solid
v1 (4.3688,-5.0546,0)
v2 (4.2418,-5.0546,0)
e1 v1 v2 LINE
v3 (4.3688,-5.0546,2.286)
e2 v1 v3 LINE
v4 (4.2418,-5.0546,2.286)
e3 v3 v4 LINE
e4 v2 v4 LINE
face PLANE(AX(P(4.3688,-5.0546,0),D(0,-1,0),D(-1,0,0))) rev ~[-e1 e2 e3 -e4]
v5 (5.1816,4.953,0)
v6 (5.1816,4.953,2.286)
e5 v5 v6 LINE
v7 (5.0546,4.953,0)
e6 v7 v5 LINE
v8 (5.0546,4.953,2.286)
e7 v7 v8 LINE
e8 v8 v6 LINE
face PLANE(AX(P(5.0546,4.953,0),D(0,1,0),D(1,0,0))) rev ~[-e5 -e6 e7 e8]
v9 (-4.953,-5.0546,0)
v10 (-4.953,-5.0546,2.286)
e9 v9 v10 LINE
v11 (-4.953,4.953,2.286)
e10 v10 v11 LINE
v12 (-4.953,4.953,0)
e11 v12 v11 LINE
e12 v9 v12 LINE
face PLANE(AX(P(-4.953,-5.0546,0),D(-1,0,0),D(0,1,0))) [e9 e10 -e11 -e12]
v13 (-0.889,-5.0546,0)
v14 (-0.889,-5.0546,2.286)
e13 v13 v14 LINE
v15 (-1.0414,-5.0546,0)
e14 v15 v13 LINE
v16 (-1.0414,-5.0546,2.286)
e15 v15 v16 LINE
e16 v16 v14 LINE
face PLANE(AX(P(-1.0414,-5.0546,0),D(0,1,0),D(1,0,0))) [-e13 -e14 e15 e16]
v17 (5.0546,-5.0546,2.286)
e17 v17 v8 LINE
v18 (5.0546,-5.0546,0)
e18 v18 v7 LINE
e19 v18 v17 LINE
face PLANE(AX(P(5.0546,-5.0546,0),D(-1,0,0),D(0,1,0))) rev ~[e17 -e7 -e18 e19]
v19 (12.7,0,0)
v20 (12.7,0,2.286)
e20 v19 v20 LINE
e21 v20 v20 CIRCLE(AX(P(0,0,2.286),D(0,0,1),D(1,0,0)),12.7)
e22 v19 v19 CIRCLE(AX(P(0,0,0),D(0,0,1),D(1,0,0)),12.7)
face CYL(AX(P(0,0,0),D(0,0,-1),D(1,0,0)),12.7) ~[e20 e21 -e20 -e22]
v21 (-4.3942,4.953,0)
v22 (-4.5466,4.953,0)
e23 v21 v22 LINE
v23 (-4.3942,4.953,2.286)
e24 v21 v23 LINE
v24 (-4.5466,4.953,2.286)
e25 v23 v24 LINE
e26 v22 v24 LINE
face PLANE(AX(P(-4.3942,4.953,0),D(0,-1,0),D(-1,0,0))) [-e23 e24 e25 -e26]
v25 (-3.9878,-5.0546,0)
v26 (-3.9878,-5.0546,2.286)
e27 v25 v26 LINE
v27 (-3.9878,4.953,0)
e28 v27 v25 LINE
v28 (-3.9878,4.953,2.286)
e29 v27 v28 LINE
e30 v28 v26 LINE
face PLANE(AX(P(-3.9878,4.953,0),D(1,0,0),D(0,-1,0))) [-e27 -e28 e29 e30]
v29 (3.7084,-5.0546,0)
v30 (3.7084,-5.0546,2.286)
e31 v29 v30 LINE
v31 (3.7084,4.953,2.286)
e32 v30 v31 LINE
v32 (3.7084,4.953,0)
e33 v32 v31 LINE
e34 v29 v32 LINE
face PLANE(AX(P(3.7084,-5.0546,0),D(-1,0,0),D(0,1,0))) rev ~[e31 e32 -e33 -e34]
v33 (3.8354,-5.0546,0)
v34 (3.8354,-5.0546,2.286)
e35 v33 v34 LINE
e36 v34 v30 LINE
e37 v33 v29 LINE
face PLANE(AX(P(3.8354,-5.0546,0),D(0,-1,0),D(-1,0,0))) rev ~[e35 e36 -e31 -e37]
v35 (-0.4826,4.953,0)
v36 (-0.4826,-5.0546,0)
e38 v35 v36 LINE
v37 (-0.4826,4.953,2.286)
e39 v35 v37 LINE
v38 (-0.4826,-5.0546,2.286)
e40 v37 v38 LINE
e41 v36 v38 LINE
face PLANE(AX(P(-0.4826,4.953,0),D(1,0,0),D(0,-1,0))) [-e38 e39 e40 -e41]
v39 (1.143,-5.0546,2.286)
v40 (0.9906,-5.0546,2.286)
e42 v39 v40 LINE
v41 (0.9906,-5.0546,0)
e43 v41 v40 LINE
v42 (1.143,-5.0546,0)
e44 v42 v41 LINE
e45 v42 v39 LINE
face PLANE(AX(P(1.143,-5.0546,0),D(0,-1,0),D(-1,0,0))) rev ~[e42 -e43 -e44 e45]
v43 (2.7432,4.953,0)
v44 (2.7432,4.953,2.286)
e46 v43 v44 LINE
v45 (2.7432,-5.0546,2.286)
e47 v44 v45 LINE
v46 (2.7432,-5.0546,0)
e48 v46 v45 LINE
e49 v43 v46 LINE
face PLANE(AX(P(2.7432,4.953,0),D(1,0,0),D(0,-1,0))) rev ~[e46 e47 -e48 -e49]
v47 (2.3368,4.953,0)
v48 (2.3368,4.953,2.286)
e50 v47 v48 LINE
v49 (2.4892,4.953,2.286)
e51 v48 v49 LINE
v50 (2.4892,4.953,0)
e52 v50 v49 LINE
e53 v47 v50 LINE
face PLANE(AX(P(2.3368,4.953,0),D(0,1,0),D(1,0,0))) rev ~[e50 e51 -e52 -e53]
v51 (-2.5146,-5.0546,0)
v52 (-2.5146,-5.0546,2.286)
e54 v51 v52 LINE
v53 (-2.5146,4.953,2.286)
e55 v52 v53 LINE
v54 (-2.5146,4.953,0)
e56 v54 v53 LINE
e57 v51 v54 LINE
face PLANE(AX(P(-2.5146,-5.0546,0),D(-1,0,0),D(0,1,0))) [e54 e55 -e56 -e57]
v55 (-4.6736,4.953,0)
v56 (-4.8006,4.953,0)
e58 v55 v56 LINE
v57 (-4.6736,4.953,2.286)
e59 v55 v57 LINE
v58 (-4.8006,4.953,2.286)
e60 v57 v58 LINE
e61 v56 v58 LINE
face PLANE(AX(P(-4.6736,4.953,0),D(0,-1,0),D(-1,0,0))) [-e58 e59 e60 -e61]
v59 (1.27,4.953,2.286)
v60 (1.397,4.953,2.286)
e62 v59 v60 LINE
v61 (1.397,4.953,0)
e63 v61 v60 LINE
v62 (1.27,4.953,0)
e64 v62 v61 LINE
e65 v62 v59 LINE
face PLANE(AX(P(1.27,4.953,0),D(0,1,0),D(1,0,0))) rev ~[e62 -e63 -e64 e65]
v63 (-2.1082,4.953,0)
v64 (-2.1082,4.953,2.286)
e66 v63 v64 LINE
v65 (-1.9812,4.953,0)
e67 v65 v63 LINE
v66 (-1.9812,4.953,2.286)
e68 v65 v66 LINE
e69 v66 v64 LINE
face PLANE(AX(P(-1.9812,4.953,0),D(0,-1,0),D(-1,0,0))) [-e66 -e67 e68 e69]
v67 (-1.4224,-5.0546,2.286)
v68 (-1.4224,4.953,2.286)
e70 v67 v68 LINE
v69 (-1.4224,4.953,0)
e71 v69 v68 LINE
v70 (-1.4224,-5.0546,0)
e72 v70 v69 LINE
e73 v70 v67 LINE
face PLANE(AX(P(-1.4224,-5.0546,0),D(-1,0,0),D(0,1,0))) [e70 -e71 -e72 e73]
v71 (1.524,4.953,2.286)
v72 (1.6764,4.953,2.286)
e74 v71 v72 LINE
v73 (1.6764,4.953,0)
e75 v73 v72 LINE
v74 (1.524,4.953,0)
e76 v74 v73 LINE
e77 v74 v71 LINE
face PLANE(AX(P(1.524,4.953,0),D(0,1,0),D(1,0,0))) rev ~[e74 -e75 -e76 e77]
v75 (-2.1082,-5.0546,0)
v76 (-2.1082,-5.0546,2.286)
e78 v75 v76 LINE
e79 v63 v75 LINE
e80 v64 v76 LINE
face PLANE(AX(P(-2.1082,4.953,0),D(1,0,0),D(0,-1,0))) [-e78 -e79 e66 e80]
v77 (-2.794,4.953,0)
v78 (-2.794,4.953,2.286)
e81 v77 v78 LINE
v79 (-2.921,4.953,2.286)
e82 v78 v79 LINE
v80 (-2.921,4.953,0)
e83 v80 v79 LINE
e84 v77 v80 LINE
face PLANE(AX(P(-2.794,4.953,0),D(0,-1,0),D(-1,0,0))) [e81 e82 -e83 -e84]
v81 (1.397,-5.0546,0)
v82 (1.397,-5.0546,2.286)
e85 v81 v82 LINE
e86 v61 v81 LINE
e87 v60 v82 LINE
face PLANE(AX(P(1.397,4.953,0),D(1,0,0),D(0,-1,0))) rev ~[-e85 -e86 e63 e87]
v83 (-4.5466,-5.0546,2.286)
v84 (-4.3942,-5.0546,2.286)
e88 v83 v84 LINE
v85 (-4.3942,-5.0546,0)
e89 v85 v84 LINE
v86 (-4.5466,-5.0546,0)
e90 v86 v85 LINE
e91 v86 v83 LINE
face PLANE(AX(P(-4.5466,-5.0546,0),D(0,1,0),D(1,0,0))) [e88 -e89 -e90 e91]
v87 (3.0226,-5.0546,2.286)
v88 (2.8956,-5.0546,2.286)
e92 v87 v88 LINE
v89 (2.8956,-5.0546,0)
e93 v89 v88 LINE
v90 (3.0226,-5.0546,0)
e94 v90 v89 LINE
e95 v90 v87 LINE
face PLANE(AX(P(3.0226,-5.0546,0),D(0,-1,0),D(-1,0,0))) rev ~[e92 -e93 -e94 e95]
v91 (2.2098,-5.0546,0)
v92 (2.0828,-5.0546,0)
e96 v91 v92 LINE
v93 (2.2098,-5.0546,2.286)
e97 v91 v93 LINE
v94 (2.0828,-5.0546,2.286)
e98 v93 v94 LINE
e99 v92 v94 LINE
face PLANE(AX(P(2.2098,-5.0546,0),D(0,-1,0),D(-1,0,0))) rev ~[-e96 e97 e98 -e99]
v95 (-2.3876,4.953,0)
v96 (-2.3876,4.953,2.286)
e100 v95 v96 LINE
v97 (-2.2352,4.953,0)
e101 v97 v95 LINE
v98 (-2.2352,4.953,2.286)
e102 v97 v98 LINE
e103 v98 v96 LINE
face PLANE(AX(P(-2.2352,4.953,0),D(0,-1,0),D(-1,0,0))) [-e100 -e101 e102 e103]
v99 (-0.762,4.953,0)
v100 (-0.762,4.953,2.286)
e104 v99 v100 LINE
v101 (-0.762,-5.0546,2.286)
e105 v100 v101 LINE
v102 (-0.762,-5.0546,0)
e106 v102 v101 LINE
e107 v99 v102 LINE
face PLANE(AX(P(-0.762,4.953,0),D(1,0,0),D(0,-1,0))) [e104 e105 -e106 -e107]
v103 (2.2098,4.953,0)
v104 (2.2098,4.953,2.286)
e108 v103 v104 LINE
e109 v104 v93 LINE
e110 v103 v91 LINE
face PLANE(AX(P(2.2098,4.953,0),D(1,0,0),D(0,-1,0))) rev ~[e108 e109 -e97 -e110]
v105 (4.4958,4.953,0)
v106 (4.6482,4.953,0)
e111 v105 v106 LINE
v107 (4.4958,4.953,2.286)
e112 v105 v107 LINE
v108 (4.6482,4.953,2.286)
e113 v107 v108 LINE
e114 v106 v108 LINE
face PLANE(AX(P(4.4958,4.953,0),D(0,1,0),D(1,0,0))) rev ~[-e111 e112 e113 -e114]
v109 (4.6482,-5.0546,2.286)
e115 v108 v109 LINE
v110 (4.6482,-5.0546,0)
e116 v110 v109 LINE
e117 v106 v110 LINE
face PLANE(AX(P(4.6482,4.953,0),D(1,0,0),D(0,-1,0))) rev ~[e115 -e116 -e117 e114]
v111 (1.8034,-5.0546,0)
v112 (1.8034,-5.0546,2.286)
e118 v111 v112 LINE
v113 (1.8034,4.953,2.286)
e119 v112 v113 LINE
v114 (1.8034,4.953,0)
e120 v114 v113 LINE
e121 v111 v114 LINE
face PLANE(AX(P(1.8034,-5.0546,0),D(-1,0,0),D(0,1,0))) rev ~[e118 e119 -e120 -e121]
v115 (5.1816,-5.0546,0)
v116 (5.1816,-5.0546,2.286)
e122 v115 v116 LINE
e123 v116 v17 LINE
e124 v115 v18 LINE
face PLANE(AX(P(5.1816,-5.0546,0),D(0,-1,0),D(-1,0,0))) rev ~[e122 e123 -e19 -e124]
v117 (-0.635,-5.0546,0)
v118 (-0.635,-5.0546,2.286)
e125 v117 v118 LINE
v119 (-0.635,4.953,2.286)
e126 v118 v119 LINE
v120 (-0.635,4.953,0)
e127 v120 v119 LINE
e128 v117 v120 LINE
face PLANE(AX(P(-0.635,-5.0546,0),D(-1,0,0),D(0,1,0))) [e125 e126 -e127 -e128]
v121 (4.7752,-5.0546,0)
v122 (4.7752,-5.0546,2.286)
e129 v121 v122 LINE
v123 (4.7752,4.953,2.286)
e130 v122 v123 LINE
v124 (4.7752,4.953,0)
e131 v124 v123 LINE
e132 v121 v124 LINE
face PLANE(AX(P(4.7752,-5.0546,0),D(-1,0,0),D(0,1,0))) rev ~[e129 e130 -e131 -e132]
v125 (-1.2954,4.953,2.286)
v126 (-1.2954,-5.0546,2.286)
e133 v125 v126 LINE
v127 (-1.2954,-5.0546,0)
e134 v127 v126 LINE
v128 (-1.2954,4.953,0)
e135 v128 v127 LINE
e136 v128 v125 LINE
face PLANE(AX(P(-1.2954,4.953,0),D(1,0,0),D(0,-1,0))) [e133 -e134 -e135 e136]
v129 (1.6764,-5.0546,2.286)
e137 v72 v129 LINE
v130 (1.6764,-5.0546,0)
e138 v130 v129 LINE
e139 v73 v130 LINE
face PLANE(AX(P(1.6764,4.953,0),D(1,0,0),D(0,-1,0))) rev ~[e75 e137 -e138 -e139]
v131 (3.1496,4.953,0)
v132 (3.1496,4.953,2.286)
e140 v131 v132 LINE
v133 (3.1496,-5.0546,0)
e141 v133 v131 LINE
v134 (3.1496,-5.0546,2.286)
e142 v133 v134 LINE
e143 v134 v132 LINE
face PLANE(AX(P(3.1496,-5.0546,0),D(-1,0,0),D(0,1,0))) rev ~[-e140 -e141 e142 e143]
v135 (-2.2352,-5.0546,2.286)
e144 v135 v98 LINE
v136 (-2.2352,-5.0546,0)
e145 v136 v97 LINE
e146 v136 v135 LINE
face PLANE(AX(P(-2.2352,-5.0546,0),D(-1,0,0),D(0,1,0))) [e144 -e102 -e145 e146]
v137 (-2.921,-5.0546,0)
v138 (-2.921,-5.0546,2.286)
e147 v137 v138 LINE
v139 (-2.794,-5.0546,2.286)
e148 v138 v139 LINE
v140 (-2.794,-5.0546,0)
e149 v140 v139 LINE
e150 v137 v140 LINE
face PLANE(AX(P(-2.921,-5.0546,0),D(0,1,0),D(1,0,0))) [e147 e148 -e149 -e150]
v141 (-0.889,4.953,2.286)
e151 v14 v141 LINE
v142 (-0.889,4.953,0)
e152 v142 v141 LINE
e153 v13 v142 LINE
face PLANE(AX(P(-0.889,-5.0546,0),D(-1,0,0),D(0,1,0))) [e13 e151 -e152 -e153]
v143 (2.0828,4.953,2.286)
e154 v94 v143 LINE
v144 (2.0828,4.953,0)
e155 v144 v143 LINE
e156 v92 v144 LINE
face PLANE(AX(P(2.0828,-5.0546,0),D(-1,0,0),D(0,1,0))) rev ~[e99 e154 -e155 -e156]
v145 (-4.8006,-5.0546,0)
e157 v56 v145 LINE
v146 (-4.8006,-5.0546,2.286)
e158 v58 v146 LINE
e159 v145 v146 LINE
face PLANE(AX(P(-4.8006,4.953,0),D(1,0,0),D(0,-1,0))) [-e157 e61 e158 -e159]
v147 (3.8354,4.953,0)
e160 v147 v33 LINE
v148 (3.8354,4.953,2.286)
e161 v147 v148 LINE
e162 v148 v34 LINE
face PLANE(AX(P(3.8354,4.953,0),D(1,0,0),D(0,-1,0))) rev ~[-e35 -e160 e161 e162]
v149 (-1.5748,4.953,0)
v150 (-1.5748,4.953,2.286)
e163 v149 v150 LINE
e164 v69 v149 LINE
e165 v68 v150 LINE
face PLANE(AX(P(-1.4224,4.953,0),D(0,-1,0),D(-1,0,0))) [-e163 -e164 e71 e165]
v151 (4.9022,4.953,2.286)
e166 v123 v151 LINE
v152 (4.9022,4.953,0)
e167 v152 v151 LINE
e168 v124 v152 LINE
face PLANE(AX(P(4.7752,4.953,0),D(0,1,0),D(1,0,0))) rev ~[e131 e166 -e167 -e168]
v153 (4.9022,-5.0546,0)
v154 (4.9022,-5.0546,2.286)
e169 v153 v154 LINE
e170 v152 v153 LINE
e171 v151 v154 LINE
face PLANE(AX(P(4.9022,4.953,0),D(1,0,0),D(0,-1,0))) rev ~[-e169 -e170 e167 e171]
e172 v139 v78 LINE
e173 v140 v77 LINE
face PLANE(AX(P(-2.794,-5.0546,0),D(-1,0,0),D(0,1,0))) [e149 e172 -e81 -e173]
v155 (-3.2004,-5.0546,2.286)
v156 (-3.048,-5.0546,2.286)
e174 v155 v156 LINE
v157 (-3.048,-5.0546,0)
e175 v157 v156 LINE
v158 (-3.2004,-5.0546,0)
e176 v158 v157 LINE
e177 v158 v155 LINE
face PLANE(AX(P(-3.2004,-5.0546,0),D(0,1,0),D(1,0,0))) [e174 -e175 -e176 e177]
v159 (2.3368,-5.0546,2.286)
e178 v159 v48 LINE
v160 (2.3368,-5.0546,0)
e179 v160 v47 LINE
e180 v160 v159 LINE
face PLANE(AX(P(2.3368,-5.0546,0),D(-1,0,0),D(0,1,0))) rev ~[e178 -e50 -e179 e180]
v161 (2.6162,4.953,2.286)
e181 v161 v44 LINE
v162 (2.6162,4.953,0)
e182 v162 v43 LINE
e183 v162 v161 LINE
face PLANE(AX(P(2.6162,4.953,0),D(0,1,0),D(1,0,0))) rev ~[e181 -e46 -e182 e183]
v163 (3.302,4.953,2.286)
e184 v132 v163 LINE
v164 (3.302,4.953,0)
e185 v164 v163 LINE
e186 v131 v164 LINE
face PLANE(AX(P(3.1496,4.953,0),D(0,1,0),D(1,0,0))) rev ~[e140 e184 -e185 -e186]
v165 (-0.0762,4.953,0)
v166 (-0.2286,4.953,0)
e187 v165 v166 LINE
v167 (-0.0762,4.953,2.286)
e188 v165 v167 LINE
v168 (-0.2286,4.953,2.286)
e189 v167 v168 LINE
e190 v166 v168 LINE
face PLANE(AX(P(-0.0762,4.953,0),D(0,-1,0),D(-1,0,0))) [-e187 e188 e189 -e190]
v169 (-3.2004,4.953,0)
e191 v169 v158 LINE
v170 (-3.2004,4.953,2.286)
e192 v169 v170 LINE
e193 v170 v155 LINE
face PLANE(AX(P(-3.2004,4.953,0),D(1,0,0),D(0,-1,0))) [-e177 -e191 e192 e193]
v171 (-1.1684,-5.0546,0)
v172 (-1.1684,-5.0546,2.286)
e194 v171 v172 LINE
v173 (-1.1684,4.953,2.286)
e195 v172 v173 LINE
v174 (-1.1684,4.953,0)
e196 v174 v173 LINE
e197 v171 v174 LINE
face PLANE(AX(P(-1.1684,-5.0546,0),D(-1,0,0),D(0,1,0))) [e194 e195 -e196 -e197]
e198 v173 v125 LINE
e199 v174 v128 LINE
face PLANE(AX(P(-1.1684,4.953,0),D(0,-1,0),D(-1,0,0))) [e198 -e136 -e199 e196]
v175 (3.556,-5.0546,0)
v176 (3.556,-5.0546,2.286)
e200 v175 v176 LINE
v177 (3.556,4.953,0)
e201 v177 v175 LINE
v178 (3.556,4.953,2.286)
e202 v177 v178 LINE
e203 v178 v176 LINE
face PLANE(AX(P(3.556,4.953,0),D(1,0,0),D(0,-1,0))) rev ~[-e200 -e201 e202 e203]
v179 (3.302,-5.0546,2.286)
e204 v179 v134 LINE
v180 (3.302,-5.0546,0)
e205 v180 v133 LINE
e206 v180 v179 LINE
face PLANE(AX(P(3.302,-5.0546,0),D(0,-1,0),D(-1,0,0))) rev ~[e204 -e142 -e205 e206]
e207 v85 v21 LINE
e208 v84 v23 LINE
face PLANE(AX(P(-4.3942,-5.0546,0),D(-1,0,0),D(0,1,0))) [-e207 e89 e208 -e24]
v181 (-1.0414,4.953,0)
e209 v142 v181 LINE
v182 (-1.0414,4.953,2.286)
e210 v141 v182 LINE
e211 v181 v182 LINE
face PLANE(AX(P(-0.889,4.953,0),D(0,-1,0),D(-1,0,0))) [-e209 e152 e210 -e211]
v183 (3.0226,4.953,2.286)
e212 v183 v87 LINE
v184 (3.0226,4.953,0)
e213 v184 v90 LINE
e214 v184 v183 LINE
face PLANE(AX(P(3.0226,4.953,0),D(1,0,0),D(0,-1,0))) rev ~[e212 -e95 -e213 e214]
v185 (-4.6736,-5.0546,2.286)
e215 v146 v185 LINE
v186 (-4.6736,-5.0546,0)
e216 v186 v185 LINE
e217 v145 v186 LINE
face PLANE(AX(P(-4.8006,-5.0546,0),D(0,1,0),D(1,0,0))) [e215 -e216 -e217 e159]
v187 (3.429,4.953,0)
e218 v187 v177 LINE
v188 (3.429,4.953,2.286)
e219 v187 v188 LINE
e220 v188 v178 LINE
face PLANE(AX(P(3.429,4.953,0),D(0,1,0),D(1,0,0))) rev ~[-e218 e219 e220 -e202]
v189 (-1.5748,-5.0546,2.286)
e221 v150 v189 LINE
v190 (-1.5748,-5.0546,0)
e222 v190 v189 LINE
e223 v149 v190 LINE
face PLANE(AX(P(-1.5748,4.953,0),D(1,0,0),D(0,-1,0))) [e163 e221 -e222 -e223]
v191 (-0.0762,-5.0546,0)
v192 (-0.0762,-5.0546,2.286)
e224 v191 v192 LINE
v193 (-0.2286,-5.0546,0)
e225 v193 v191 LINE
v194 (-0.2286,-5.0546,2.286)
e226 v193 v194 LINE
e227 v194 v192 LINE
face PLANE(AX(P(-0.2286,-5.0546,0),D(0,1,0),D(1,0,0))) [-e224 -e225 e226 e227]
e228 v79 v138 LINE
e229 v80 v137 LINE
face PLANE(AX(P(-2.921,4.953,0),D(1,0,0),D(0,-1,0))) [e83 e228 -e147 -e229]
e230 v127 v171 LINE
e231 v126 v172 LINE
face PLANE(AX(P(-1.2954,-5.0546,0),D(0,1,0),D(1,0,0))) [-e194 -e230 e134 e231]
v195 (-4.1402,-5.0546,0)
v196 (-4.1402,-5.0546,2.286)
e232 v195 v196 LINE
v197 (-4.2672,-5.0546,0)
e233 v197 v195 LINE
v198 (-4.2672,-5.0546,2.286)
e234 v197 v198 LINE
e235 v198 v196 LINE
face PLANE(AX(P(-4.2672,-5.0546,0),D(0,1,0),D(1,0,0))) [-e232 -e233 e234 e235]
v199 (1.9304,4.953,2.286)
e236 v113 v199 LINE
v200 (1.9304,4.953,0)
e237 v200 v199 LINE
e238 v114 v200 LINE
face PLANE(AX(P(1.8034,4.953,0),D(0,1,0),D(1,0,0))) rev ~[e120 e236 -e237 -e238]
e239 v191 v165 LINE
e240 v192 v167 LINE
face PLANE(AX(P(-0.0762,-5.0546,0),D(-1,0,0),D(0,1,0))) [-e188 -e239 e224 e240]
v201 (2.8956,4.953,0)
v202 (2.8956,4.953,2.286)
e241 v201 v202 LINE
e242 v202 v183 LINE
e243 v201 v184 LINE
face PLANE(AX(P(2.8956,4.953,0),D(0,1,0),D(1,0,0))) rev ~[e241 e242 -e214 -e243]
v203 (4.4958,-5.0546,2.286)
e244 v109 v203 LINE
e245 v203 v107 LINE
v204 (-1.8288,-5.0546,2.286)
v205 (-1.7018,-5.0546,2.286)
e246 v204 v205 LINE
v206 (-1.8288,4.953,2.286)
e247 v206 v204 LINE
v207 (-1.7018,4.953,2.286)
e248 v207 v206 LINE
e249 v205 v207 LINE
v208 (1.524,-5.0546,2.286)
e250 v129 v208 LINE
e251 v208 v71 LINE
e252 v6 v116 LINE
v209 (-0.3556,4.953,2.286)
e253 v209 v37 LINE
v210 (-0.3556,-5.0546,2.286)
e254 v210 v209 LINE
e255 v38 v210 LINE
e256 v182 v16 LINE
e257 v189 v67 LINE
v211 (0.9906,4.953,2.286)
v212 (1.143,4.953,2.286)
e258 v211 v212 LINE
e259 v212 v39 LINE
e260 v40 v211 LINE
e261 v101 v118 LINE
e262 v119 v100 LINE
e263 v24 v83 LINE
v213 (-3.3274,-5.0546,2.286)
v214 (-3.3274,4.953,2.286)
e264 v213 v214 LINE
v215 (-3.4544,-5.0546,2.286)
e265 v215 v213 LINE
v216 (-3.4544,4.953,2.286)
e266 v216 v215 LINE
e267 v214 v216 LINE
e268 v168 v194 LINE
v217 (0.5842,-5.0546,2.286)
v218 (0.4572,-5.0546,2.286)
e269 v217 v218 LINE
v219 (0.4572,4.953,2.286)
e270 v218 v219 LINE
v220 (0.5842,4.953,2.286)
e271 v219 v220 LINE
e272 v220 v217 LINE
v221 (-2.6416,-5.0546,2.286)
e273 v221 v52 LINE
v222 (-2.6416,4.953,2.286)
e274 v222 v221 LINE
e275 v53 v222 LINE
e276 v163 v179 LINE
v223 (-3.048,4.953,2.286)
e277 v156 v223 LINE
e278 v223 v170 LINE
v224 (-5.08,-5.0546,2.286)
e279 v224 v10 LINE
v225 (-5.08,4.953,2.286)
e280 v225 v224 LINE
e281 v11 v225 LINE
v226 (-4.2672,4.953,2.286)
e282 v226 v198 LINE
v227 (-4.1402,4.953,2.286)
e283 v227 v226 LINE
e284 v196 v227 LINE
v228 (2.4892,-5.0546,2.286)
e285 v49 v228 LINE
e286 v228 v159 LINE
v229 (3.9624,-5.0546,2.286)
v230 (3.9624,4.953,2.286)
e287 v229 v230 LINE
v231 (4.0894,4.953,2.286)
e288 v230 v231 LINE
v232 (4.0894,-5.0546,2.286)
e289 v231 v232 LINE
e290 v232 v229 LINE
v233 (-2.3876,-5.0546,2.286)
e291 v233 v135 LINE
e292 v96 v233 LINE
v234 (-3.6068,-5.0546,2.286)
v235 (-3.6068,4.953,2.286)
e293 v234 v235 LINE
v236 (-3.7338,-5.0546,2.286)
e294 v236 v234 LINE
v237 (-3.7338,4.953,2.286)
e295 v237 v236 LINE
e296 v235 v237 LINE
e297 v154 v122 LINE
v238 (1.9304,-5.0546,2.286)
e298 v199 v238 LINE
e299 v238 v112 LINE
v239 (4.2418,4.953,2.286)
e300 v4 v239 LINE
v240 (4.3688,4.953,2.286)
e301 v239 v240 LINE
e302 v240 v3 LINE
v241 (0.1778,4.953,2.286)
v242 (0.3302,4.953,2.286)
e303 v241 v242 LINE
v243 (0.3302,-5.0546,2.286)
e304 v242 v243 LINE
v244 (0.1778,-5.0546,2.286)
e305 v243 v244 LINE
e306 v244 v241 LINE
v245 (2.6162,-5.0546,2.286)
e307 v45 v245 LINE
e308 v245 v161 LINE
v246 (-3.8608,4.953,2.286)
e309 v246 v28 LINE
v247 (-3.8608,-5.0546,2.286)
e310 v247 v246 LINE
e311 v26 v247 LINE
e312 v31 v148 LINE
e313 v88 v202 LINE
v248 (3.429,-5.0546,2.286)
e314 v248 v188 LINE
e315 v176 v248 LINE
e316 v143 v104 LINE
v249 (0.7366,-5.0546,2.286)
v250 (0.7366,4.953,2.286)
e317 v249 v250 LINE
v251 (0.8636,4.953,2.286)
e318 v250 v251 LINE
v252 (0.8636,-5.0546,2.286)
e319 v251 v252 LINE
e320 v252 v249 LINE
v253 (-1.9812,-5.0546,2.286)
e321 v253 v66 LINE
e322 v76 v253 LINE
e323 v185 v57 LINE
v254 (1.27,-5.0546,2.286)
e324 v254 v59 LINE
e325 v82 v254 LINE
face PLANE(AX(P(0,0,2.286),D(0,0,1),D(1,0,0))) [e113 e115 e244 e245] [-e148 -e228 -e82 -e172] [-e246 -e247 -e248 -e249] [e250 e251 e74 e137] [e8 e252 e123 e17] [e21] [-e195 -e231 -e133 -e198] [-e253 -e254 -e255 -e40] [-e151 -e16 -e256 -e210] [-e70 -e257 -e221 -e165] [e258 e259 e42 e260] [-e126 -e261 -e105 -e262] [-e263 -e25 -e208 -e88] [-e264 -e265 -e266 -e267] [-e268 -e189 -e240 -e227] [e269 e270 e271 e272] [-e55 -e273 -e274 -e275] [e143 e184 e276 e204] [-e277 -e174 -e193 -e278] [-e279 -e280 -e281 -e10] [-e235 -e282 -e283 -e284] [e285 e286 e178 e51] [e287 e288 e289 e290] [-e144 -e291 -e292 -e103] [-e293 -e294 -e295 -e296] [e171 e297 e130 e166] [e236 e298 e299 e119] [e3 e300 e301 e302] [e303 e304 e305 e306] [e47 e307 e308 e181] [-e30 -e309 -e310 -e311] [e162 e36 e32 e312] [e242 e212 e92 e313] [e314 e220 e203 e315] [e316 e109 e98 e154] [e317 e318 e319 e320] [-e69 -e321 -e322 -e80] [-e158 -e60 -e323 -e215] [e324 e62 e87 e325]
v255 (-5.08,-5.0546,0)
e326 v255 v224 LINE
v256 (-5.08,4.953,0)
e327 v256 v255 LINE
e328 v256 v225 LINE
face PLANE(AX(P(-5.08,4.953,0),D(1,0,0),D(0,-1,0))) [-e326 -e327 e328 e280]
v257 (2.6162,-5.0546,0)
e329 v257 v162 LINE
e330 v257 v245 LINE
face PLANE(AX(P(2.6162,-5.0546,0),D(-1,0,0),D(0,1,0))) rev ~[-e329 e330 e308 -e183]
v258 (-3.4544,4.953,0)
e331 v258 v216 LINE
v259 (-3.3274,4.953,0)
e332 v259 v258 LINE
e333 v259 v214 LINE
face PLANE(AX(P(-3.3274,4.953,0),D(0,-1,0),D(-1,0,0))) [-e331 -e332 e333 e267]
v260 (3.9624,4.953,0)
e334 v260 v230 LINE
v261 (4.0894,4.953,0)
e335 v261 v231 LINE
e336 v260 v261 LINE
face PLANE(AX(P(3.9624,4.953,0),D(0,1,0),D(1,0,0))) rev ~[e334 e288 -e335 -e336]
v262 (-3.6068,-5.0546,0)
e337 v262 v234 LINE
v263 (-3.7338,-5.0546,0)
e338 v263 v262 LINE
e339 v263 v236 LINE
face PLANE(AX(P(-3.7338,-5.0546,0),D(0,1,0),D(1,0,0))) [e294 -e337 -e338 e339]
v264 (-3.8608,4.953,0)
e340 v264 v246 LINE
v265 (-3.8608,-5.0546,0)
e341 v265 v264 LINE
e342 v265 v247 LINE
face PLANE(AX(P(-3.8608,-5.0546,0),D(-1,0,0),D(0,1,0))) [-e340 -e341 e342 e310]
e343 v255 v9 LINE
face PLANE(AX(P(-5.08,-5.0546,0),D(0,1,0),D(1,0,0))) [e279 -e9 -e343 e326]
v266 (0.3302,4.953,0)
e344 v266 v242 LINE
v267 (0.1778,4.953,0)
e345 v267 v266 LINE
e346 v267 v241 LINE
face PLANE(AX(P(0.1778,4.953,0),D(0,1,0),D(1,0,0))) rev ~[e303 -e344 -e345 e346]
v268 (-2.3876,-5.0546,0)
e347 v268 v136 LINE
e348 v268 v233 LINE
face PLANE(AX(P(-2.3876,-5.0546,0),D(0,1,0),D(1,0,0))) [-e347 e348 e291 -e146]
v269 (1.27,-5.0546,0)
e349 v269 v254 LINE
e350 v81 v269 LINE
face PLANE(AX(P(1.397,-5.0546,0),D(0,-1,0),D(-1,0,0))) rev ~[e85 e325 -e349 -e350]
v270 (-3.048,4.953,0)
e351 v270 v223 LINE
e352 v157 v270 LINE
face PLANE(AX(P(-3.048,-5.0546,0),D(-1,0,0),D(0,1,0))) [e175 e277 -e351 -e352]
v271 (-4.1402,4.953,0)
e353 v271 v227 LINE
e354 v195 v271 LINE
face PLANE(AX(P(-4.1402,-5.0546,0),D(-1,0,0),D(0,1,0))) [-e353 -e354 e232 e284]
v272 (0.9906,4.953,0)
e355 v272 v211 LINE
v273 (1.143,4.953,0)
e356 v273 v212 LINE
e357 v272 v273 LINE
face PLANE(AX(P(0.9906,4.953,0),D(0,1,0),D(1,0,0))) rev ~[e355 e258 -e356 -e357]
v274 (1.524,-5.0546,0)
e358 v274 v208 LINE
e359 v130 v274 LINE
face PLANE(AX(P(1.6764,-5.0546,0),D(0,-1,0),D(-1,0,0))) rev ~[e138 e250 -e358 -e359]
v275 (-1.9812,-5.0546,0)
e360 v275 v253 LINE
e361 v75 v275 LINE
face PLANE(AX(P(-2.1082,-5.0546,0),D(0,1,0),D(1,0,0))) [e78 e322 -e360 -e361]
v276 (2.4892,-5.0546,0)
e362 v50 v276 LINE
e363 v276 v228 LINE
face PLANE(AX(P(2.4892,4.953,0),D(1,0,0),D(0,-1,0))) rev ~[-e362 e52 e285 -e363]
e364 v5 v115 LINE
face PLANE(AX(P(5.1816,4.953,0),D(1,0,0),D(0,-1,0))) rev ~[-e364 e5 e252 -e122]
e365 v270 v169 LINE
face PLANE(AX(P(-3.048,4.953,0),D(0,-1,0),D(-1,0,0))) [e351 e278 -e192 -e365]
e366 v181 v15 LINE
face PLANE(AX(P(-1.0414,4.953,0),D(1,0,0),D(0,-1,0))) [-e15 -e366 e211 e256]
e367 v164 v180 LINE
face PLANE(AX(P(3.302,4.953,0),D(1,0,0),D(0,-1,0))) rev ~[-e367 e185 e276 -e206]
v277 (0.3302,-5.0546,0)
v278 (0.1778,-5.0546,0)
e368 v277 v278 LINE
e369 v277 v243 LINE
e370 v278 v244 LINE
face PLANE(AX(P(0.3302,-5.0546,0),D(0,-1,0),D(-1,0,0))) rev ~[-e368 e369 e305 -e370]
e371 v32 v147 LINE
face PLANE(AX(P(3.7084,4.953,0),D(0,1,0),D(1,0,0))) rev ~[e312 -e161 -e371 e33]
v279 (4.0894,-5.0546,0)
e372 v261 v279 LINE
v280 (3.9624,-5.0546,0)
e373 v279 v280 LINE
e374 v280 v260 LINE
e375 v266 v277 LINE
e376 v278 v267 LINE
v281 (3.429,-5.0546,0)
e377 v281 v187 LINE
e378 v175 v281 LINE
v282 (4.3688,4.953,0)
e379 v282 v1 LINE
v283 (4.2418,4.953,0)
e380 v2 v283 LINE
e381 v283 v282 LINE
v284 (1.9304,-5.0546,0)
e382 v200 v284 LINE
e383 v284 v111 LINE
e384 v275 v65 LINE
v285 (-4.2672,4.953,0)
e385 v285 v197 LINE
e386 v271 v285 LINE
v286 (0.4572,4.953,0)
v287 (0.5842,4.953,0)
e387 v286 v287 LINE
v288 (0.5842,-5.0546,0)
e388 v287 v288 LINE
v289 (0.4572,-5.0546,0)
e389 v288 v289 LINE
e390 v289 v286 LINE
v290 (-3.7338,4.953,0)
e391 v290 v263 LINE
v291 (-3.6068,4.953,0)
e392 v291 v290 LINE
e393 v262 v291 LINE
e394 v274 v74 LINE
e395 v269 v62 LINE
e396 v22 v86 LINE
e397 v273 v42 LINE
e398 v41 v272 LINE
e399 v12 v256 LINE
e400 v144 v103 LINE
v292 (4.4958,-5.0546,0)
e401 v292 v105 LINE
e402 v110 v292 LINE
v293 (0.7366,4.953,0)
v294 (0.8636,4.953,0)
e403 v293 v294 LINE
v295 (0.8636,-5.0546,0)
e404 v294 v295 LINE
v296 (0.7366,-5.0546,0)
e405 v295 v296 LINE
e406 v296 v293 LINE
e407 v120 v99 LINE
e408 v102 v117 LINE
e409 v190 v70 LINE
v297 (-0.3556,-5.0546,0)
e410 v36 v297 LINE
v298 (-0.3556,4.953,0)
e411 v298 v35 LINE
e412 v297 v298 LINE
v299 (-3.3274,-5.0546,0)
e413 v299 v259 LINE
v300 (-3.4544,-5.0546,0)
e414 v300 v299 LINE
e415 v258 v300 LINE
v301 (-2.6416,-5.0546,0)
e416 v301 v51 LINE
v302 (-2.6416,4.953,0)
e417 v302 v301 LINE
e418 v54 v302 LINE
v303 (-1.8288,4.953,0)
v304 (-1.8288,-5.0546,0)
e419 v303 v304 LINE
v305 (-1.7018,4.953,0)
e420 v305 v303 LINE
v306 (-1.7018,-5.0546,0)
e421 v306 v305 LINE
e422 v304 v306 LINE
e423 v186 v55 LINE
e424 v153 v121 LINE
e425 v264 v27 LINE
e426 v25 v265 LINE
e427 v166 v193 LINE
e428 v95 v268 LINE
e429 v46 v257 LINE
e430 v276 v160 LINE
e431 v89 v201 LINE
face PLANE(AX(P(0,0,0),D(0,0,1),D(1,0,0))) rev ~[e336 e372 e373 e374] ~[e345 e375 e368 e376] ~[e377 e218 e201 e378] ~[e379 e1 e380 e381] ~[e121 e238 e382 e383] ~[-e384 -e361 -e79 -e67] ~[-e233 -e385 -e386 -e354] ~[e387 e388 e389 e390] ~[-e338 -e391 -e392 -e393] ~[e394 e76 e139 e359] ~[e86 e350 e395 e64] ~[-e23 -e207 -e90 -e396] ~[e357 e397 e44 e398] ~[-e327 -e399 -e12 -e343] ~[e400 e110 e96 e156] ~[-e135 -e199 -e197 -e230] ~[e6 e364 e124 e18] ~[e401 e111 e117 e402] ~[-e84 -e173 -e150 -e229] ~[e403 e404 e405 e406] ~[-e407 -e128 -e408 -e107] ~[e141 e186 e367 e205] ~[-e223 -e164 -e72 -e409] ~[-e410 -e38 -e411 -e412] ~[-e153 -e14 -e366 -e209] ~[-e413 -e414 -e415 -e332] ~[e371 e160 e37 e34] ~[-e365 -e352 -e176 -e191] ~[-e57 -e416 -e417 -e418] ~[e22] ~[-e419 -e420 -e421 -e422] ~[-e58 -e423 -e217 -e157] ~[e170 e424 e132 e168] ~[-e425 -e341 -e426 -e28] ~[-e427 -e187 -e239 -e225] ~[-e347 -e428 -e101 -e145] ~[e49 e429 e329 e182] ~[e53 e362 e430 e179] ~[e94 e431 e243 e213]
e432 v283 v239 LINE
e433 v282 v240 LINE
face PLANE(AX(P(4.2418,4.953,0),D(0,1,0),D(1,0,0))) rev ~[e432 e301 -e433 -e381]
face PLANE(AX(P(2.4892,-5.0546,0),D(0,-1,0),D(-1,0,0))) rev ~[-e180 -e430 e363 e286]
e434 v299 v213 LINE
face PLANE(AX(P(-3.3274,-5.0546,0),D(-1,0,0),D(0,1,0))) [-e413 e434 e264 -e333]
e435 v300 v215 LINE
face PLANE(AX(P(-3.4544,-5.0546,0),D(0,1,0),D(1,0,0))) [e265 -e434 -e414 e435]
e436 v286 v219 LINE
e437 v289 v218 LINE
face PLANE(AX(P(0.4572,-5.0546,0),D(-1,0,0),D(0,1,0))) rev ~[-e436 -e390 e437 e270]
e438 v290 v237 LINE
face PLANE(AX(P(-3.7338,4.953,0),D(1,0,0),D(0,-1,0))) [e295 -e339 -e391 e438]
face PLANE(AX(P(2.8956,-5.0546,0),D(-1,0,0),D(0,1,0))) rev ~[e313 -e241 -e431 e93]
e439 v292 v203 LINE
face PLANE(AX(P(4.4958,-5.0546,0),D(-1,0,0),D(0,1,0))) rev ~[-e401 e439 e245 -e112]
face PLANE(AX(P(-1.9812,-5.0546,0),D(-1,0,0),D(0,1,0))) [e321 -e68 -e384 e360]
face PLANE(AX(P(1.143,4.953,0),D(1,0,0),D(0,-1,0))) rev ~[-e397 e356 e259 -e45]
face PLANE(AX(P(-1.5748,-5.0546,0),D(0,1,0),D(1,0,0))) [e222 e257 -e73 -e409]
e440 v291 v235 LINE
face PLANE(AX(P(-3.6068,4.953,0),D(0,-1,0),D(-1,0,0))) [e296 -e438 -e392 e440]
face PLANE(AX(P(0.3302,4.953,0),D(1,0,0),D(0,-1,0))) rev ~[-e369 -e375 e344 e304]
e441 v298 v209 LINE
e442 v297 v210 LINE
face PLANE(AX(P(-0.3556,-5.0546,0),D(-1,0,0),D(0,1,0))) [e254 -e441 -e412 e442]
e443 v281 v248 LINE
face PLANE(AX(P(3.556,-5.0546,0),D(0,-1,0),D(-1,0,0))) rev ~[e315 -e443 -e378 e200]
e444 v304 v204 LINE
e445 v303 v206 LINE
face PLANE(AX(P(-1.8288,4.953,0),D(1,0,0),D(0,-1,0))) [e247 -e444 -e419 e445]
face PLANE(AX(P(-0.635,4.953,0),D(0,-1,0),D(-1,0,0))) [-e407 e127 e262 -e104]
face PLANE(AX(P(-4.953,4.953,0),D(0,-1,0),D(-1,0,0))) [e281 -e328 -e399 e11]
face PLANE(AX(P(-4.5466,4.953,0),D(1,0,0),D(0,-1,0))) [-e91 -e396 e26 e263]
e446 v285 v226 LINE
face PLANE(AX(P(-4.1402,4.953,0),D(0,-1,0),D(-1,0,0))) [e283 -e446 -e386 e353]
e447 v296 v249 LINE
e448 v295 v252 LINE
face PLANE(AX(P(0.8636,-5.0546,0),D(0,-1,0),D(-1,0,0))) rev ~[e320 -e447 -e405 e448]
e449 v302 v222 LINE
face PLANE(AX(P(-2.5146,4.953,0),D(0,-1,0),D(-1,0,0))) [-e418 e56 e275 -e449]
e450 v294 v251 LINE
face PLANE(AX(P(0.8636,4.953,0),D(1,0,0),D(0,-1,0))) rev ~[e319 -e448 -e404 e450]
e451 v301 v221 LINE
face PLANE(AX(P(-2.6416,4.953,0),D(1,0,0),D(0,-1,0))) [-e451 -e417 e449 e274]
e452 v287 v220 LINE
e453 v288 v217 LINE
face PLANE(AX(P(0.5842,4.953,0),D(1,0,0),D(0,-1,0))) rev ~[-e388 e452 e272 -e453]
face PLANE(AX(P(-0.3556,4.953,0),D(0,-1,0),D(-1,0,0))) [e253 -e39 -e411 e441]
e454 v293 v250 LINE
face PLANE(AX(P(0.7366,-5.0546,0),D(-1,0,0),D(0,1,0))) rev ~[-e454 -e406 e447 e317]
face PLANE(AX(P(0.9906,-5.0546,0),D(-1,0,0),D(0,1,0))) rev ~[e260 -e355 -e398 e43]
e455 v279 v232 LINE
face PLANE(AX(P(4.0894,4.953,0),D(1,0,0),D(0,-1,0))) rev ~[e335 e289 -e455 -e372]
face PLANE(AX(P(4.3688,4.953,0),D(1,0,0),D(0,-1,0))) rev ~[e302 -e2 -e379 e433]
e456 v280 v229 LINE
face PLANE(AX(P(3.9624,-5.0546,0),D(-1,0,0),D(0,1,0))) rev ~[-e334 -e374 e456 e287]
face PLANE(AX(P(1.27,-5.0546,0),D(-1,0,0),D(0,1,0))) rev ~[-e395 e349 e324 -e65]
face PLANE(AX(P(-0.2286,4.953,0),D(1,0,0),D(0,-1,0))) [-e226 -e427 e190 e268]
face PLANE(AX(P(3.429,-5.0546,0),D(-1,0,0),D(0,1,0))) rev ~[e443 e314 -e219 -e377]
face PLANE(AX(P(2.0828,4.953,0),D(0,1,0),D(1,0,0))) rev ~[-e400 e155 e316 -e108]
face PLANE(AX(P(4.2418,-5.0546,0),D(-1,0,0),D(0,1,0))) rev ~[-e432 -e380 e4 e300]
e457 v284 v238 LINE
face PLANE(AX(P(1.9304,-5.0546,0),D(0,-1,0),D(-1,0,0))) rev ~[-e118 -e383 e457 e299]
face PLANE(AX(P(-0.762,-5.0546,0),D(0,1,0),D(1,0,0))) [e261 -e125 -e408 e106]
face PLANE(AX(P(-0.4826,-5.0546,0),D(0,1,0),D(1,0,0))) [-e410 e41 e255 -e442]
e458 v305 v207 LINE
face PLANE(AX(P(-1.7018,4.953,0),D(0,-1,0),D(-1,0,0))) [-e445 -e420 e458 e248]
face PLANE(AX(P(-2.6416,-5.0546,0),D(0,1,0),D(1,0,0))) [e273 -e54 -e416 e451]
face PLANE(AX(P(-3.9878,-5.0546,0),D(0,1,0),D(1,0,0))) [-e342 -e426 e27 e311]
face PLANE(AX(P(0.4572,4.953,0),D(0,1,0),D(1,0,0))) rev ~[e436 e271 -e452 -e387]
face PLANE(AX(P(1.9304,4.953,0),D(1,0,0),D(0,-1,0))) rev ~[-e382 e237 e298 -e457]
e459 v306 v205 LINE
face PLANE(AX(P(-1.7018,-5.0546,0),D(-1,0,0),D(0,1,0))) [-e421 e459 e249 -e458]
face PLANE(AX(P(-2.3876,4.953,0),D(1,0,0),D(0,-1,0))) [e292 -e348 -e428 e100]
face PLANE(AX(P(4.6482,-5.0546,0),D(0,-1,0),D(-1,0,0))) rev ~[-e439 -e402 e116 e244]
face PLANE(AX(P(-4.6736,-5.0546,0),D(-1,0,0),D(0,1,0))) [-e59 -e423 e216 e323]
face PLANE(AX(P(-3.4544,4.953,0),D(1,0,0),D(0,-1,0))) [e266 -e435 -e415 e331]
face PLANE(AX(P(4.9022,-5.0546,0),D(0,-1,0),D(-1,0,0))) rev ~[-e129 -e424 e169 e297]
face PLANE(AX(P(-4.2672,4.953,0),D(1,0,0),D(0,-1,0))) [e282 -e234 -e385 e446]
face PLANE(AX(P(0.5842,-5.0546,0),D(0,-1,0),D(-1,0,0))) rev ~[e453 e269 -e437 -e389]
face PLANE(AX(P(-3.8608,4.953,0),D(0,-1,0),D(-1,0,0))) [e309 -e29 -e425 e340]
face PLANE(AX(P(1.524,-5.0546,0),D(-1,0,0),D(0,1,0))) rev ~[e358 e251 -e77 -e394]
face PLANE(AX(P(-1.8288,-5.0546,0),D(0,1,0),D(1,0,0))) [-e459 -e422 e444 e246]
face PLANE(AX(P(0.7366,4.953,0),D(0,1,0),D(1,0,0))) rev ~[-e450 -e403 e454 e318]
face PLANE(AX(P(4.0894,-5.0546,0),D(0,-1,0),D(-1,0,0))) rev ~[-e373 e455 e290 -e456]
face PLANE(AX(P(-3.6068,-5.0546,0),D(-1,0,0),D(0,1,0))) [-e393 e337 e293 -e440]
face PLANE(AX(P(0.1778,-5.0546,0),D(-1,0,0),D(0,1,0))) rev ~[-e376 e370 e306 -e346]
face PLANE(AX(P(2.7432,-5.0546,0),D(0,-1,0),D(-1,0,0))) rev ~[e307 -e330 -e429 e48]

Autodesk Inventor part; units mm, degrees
ref_plane "YZ Plane" through (0, 0, 0) normal (1, 0, 0) x (0, 1, 0)
ref_plane "XZ Plane" through (0, 0, 0) normal (0, 1, 0) x (-1, 0, 0)
ref_plane "XY Plane" through (0, 0, 0) normal (0, 0, 1) x (1, 0, 0)
sketch "Sketch9" plane through (0, 0, 0) normal (0, 0, 1) x (1, 0, 0)
  circle A0 centre (0, 0) radius 12.7
  line L0 (-0.3556, 4.953) -> (-0.4826, 4.953)
  line L1 (-0.4826, 4.953) -> (-0.4826, -5.0546)
  line L2 (-0.4826, -5.0546) -> (-0.3556, -5.0546)
  line L3 (-0.3556, -5.0546) -> (-0.3556, 4.953)
  line L4 (-0.635, 4.953) -> (-0.762, 4.953)
  line L5 (-0.762, 4.953) -> (-0.762, -5.0546)
  line L6 (-0.762, -5.0546) -> (-0.635, -5.0546)
  line L7 (-0.635, -5.0546) -> (-0.635, 4.953)
  line L8 (-0.889, 4.953) -> (-1.0414, 4.953)
  line L9 (-1.0414, 4.953) -> (-1.0414, -5.0546)
  line L10 (-1.0414, -5.0546) -> (-0.889, -5.0546)
  line L11 (-0.889, -5.0546) -> (-0.889, 4.953)
  line L12 (-1.1684, 4.953) -> (-1.2954, 4.953)
  line L13 (-1.2954, 4.953) -> (-1.2954, -5.0546)
  line L14 (-1.2954, -5.0546) -> (-1.1684, -5.0546)
  line L15 (-1.1684, -5.0546) -> (-1.1684, 4.953)
  line L16 (-1.4224, 4.953) -> (-1.5748, 4.953)
  line L17 (-1.5748, 4.953) -> (-1.5748, -5.0546)
  line L18 (-1.5748, -5.0546) -> (-1.4224, -5.0546)
  line L19 (-1.4224, -5.0546) -> (-1.4224, 4.953)
  line L20 (-1.7018, 4.953) -> (-1.8288, 4.953)
  line L21 (-1.8288, 4.953) -> (-1.8288, -5.0546)
  line L22 (-1.8288, -5.0546) -> (-1.7018, -5.0546)
  line L23 (-1.7018, -5.0546) -> (-1.7018, 4.953)
  line L24 (-1.9812, 4.953) -> (-2.1082, 4.953)
  line L25 (-2.1082, 4.953) -> (-2.1082, -5.0546)
  line L26 (-2.1082, -5.0546) -> (-1.9812, -5.0546)
  line L27 (-1.9812, -5.0546) -> (-1.9812, 4.953)
  line L28 (-2.2352, 4.953) -> (-2.3876, 4.953)
  line L29 (-2.3876, 4.953) -> (-2.3876, -5.0546)
  line L30 (-2.3876, -5.0546) -> (-2.2352, -5.0546)
  line L31 (-2.2352, -5.0546) -> (-2.2352, 4.953)
  line L32 (-2.5146, 4.953) -> (-2.6416, 4.953)
  line L33 (-2.6416, 4.953) -> (-2.6416, -5.0546)
  line L34 (-2.6416, -5.0546) -> (-2.5146, -5.0546)
  line L35 (-2.5146, -5.0546) -> (-2.5146, 4.953)
  line L36 (-2.794, 4.953) -> (-2.921, 4.953)
  line L37 (-2.921, 4.953) -> (-2.921, -5.0546)
  line L38 (-2.921, -5.0546) -> (-2.794, -5.0546)
  line L39 (-2.794, -5.0546) -> (-2.794, 4.953)
  line L40 (-3.048, 4.953) -> (-3.2004, 4.953)
  line L41 (-3.2004, 4.953) -> (-3.2004, -5.0546)
  line L42 (-3.2004, -5.0546) -> (-3.048, -5.0546)
  line L43 (-3.048, -5.0546) -> (-3.048, 4.953)
  line L44 (-3.3274, 4.953) -> (-3.4544, 4.953)
  line L45 (-3.4544, 4.953) -> (-3.4544, -5.0546)
  line L46 (-3.4544, -5.0546) -> (-3.3274, -5.0546)
  line L47 (-3.3274, -5.0546) -> (-3.3274, 4.953)
  line L48 (-3.6068, 4.953) -> (-3.7338, 4.953)
  line L49 (-3.7338, 4.953) -> (-3.7338, -5.0546)
  line L50 (-3.7338, -5.0546) -> (-3.6068, -5.0546)
  line L51 (-3.6068, -5.0546) -> (-3.6068, 4.953)
  line L52 (-3.8608, 4.953) -> (-3.9878, 4.953)
  line L53 (-3.9878, 4.953) -> (-3.9878, -5.0546)
  line L54 (-3.9878, -5.0546) -> (-3.8608, -5.0546)
  line L55 (-3.8608, -5.0546) -> (-3.8608, 4.953)
  line L56 (-4.1402, 4.953) -> (-4.2672, 4.953)
  line L57 (-4.2672, 4.953) -> (-4.2672, -5.0546)
  line L58 (-4.2672, -5.0546) -> (-4.1402, -5.0546)
  line L59 (-4.1402, -5.0546) -> (-4.1402, 4.953)
  line L60 (-4.3942, 4.953) -> (-4.5466, 4.953)
  line L61 (-4.5466, 4.953) -> (-4.5466, -5.0546)
  line L62 (-4.5466, -5.0546) -> (-4.3942, -5.0546)
  line L63 (-4.3942, -5.0546) -> (-4.3942, 4.953)
  line L64 (-4.6736, 4.953) -> (-4.8006, 4.953)
  line L65 (-4.8006, 4.953) -> (-4.8006, -5.0546)
  line L66 (-4.8006, -5.0546) -> (-4.6736, -5.0546)
  line L67 (-4.6736, -5.0546) -> (-4.6736, 4.953)
  line L68 (-4.953, 4.953) -> (-5.08, 4.953)
  line L69 (-5.08, 4.953) -> (-5.08, -5.0546)
  line L70 (-5.08, -5.0546) -> (-4.953, -5.0546)
  line L71 (-4.953, -5.0546) -> (-4.953, 4.953)
  line L72 (-0.0762, 4.953) -> (-0.2286, 4.953)
  line L73 (-0.2286, 4.953) -> (-0.2286, -5.0546)
  line L74 (-0.2286, -5.0546) -> (-0.0762, -5.0546)
  line L75 (-0.0762, -5.0546) -> (-0.0762, 4.953)
  line L76 (0.1778, 4.953) -> (0.3302, 4.953)
  line L77 (0.3302, 4.953) -> (0.3302, -5.0546)
  line L78 (0.3302, -5.0546) -> (0.1778, -5.0546)
  line L79 (0.1778, -5.0546) -> (0.1778, 4.953)
  line L80 (5.0546, 4.953) -> (5.1816, 4.953)
  line L81 (5.1816, 4.953) -> (5.1816, -5.0546)
  line L82 (5.1816, -5.0546) -> (5.0546, -5.0546)
  line L83 (5.0546, -5.0546) -> (5.0546, 4.953)
  line L84 (4.7752, 4.953) -> (4.9022, 4.953)
  line L85 (4.9022, 4.953) -> (4.9022, -5.0546)
  line L86 (4.9022, -5.0546) -> (4.7752, -5.0546)
  line L87 (4.7752, -5.0546) -> (4.7752, 4.953)
  line L88 (4.4958, 4.953) -> (4.6482, 4.953)
  line L89 (4.6482, 4.953) -> (4.6482, -5.0546)
  line L90 (4.6482, -5.0546) -> (4.4958, -5.0546)
  line L91 (4.4958, -5.0546) -> (4.4958, 4.953)
  line L92 (4.2418, 4.953) -> (4.3688, 4.953)
  line L93 (4.3688, 4.953) -> (4.3688, -5.0546)
  line L94 (4.3688, -5.0546) -> (4.2418, -5.0546)
  line L95 (4.2418, -5.0546) -> (4.2418, 4.953)
  line L96 (3.9624, 4.953) -> (4.0894, 4.953)
  line L97 (4.0894, 4.953) -> (4.0894, -5.0546)
  line L98 (4.0894, -5.0546) -> (3.9624, -5.0546)
  line L99 (3.9624, -5.0546) -> (3.9624, 4.953)
  line L100 (3.7084, 4.953) -> (3.8354, 4.953)
  line L101 (3.8354, 4.953) -> (3.8354, -5.0546)
  line L102 (3.8354, -5.0546) -> (3.7084, -5.0546)
  line L103 (3.7084, -5.0546) -> (3.7084, 4.953)
  line L104 (3.429, 4.953) -> (3.556, 4.953)
  line L105 (3.556, 4.953) -> (3.556, -5.0546)
  line L106 (3.556, -5.0546) -> (3.429, -5.0546)
  line L107 (3.429, -5.0546) -> (3.429, 4.953)
  line L108 (3.1496, 4.953) -> (3.302, 4.953)
  line L109 (3.302, 4.953) -> (3.302, -5.0546)
  line L110 (3.302, -5.0546) -> (3.1496, -5.0546)
  line L111 (3.1496, -5.0546) -> (3.1496, 4.953)
  line L112 (2.8956, 4.953) -> (3.0226, 4.953)
  line L113 (3.0226, 4.953) -> (3.0226, -5.0546)
  line L114 (3.0226, -5.0546) -> (2.8956, -5.0546)
  line L115 (2.8956, -5.0546) -> (2.8956, 4.953)
  line L116 (2.6162, 4.953) -> (2.7432, 4.953)
  line L117 (2.7432, 4.953) -> (2.7432, -5.0546)
  line L118 (2.7432, -5.0546) -> (2.6162, -5.0546)
  line L119 (2.6162, -5.0546) -> (2.6162, 4.953)
  line L120 (2.3368, 4.953) -> (2.4892, 4.953)
  line L121 (2.4892, 4.953) -> (2.4892, -5.0546)
  line L122 (2.4892, -5.0546) -> (2.3368, -5.0546)
  line L123 (2.3368, -5.0546) -> (2.3368, 4.953)
  line L124 (2.0828, 4.953) -> (2.2098, 4.953)
  line L125 (2.2098, 4.953) -> (2.2098, -5.0546)
  line L126 (2.2098, -5.0546) -> (2.0828, -5.0546)
  line L127 (2.0828, -5.0546) -> (2.0828, 4.953)
  line L128 (1.8034, 4.953) -> (1.9304, 4.953)
  line L129 (1.9304, 4.953) -> (1.9304, -5.0546)
  line L130 (1.9304, -5.0546) -> (1.8034, -5.0546)
  line L131 (1.8034, -5.0546) -> (1.8034, 4.953)
  line L132 (1.524, 4.953) -> (1.6764, 4.953)
  line L133 (1.6764, 4.953) -> (1.6764, -5.0546)
  line L134 (1.6764, -5.0546) -> (1.524, -5.0546)
  line L135 (1.524, -5.0546) -> (1.524, 4.953)
  line L136 (1.27, 4.953) -> (1.397, 4.953)
  line L137 (1.397, 4.953) -> (1.397, -5.0546)
  line L138 (1.397, -5.0546) -> (1.27, -5.0546)
  line L139 (1.27, -5.0546) -> (1.27, 4.953)
  line L140 (0.9906, 4.953) -> (1.143, 4.953)
  line L141 (1.143, 4.953) -> (1.143, -5.0546)
  line L142 (1.143, -5.0546) -> (0.9906, -5.0546)
  line L143 (0.9906, -5.0546) -> (0.9906, 4.953)
  line L144 (0.7366, 4.953) -> (0.8636, 4.953)
  line L145 (0.8636, 4.953) -> (0.8636, -5.0546)
  line L146 (0.8636, -5.0546) -> (0.7366, -5.0546)
  line L147 (0.7366, -5.0546) -> (0.7366, 4.953)
  line L148 (0.4572, 4.953) -> (0.5842, 4.953)
  line L149 (0.5842, 4.953) -> (0.5842, -5.0546)
  line L150 (0.5842, -5.0546) -> (0.4572, -5.0546)
  line L151 (0.4572, -5.0546) -> (0.4572, 4.953)
  line L152 (-5.08, 4.953) -> (-4.953, 4.953)
  line L153 (-4.953, 4.953) -> (-4.953, -5.0546)
  line L154 (-4.953, -5.0546) -> (-5.08, -5.0546)
  line L155 (-5.08, -5.0546) -> (-5.08, 4.953)
  line L156 (-4.8006, 4.953) -> (-4.6736, 4.953)
  line L157 (-4.6736, 4.953) -> (-4.6736, -5.0546)
  line L158 (-4.6736, -5.0546) -> (-4.8006, -5.0546)
  line L159 (-4.8006, -5.0546) -> (-4.8006, 4.953)
  line L160 (-4.2672, 4.953) -> (-4.1402, 4.953)
  line L161 (-4.1402, 4.953) -> (-4.1402, -5.0546)
  line L162 (-4.1402, -5.0546) -> (-4.2672, -5.0546)
  line L163 (-4.2672, -5.0546) -> (-4.2672, 4.953)
  line L164 (-3.9878, 4.953) -> (-3.8608, 4.953)
  line L165 (-3.8608, 4.953) -> (-3.8608, -5.0546)
  line L166 (-3.8608, -5.0546) -> (-3.9878, -5.0546)
  line L167 (-3.9878, -5.0546) -> (-3.9878, 4.953)
  line L168 (-3.7338, 4.953) -> (-3.6068, 4.953)
  line L169 (-3.6068, 4.953) -> (-3.6068, -5.0546)
  line L170 (-3.6068, -5.0546) -> (-3.7338, -5.0546)
  line L171 (-3.7338, -5.0546) -> (-3.7338, 4.953)
  line L172 (-3.4544, 4.953) -> (-3.3274, 4.953)
  line L173 (-3.3274, 4.953) -> (-3.3274, -5.0546)
  line L174 (-3.3274, -5.0546) -> (-3.4544, -5.0546)
  line L175 (-3.4544, -5.0546) -> (-3.4544, 4.953)
  line L176 (-3.2004, 4.953) -> (-3.048, 4.953)
  line L177 (-3.048, 4.953) -> (-3.048, -5.0546)
  line L178 (-3.048, -5.0546) -> (-3.2004, -5.0546)
  line L179 (-3.2004, -5.0546) -> (-3.2004, 4.953)
  line L180 (-2.921, 4.953) -> (-2.794, 4.953)
  line L181 (-2.794, 4.953) -> (-2.794, -5.0546)
  line L182 (-2.794, -5.0546) -> (-2.921, -5.0546)
  line L183 (-2.921, -5.0546) -> (-2.921, 4.953)
  line L184 (-2.6416, 4.953) -> (-2.5146, 4.953)
  line L185 (-2.5146, 4.953) -> (-2.5146, -5.0546)
  line L186 (-2.5146, -5.0546) -> (-2.6416, -5.0546)
  line L187 (-2.6416, -5.0546) -> (-2.6416, 4.953)
  line L188 (-2.3876, 4.953) -> (-2.2352, 4.953)
  line L189 (-2.2352, 4.953) -> (-2.2352, -5.0546)
  line L190 (-2.2352, -5.0546) -> (-2.3876, -5.0546)
  line L191 (-2.3876, -5.0546) -> (-2.3876, 4.953)
  line L192 (-2.1082, 4.953) -> (-1.9812, 4.953)
  line L193 (-1.9812, 4.953) -> (-1.9812, -5.0546)
  line L194 (-1.9812, -5.0546) -> (-2.1082, -5.0546)
  line L195 (-2.1082, -5.0546) -> (-2.1082, 4.953)
  line L196 (-1.8288, 4.953) -> (-1.7018, 4.953)
  line L197 (-1.7018, 4.953) -> (-1.7018, -5.0546)
  line L198 (-1.7018, -5.0546) -> (-1.8288, -5.0546)
  line L199 (-1.8288, -5.0546) -> (-1.8288, 4.953)
  line L200 (-1.5748, 4.953) -> (-1.4224, 4.953)
  line L201 (-1.4224, 4.953) -> (-1.4224, -5.0546)
  line L202 (-1.4224, -5.0546) -> (-1.5748, -5.0546)
  line L203 (-1.5748, -5.0546) -> (-1.5748, 4.953)
  line L204 (-1.2954, 4.953) -> (-1.1684, 4.953)
  line L205 (-1.1684, 4.953) -> (-1.1684, -5.0546)
  line L206 (-1.1684, -5.0546) -> (-1.2954, -5.0546)
  line L207 (-1.2954, -5.0546) -> (-1.2954, 4.953)
  line L208 (-1.0414, 4.953) -> (-0.889, 4.953)
  line L209 (-0.889, 4.953) -> (-0.889, -5.0546)
  line L210 (-0.889, -5.0546) -> (-1.0414, -5.0546)
  line L211 (-1.0414, -5.0546) -> (-1.0414, 4.953)
  line L212 (-0.762, 4.953) -> (-0.635, 4.953)
  line L213 (-0.635, 4.953) -> (-0.635, -5.0546)
  line L214 (-0.635, -5.0546) -> (-0.762, -5.0546)
  line L215 (-0.762, -5.0546) -> (-0.762, 4.953)
  line L216 (-0.4826, 4.953) -> (-0.3556, 4.953)
  line L217 (-0.3556, 4.953) -> (-0.3556, -5.0546)
  line L218 (-0.3556, -5.0546) -> (-0.4826, -5.0546)
  line L219 (-0.4826, -5.0546) -> (-0.4826, 4.953)
  line L220 (-0.2286, 4.953) -> (-0.0762, 4.953)
  line L221 (-0.0762, 4.953) -> (-0.0762, -5.0546)
  line L222 (-0.0762, -5.0546) -> (-0.2286, -5.0546)
  line L223 (-0.2286, -5.0546) -> (-0.2286, 4.953)
  line L224 (0.1778, 4.953) -> (0.3302, 4.953)
  line L225 (0.3302, 4.953) -> (0.3302, -5.0546)
  line L226 (0.3302, -5.0546) -> (0.1778, -5.0546)
  line L227 (0.1778, -5.0546) -> (0.1778, 4.953)
  line L228 (0.4572, 4.953) -> (0.5842, 4.953)
  line L229 (0.5842, 4.953) -> (0.5842, -5.0546)
  line L230 (0.5842, -5.0546) -> (0.4572, -5.0546)
  line L231 (0.4572, -5.0546) -> (0.4572, 4.953)
  line L232 (0.7366, 4.953) -> (0.8636, 4.953)
  line L233 (0.8636, 4.953) -> (0.8636, -5.0546)
  line L234 (0.8636, -5.0546) -> (0.7366, -5.0546)
  line L235 (0.7366, -5.0546) -> (0.7366, 4.953)
  line L236 (0.9906, 4.953) -> (1.143, 4.953)
  line L237 (1.143, 4.953) -> (1.143, -5.0546)
  line L238 (1.143, -5.0546) -> (0.9906, -5.0546)
  line L239 (0.9906, -5.0546) -> (0.9906, 4.953)
  line L240 (1.27, 4.953) -> (1.397, 4.953)
  line L241 (1.397, 4.953) -> (1.397, -5.0546)
  line L242 (1.397, -5.0546) -> (1.27, -5.0546)
  line L243 (1.27, -5.0546) -> (1.27, 4.953)
  line L244 (1.524, 4.953) -> (1.6764, 4.953)
  line L245 (1.6764, 4.953) -> (1.6764, -5.0546)
  line L246 (1.6764, -5.0546) -> (1.524, -5.0546)
  line L247 (1.524, -5.0546) -> (1.524, 4.953)
  line L248 (1.8034, 4.953) -> (1.9304, 4.953)
  line L249 (1.9304, 4.953) -> (1.9304, -5.0546)
  line L250 (1.9304, -5.0546) -> (1.8034, -5.0546)
  line L251 (1.8034, -5.0546) -> (1.8034, 4.953)
  line L252 (2.0828, 4.953) -> (2.2098, 4.953)
  line L253 (2.2098, 4.953) -> (2.2098, -5.0546)
  line L254 (2.2098, -5.0546) -> (2.0828, -5.0546)
  line L255 (2.0828, -5.0546) -> (2.0828, 4.953)
  line L256 (2.3368, 4.953) -> (2.4892, 4.953)
  line L257 (2.4892, 4.953) -> (2.4892, -5.0546)
  line L258 (2.4892, -5.0546) -> (2.3368, -5.0546)
  line L259 (2.3368, -5.0546) -> (2.3368, 4.953)
  line L260 (2.6162, 4.953) -> (2.7432, 4.953)
  line L261 (2.7432, 4.953) -> (2.7432, -5.0546)
  line L262 (2.7432, -5.0546) -> (2.6162, -5.0546)
  line L263 (2.6162, -5.0546) -> (2.6162, 4.953)
  line L264 (2.8956, 4.953) -> (3.0226, 4.953)
  line L265 (3.0226, 4.953) -> (3.0226, -5.0546)
  line L266 (3.0226, -5.0546) -> (2.8956, -5.0546)
  line L267 (2.8956, -5.0546) -> (2.8956, 4.953)
  line L268 (3.1496, 4.953) -> (3.302, 4.953)
  line L269 (3.302, 4.953) -> (3.302, -5.0546)
  line L270 (3.302, -5.0546) -> (3.1496, -5.0546)
  line L271 (3.1496, -5.0546) -> (3.1496, 4.953)
  line L272 (3.429, 4.953) -> (3.556, 4.953)
  line L273 (3.556, 4.953) -> (3.556, -5.0546)
  line L274 (3.556, -5.0546) -> (3.429, -5.0546)
  line L275 (3.429, -5.0546) -> (3.429, 4.953)
  line L276 (3.7084, 4.953) -> (3.8354, 4.953)
  line L277 (3.8354, 4.953) -> (3.8354, -5.0546)
  line L278 (3.8354, -5.0546) -> (3.7084, -5.0546)
  line L279 (3.7084, -5.0546) -> (3.7084, 4.953)
  line L280 (3.9624, 4.953) -> (4.0894, 4.953)
  line L281 (4.0894, 4.953) -> (4.0894, -5.0546)
  line L282 (4.0894, -5.0546) -> (3.9624, -5.0546)
  line L283 (3.9624, -5.0546) -> (3.9624, 4.953)
  line L284 (4.2418, 4.953) -> (4.3688, 4.953)
  line L285 (4.3688, 4.953) -> (4.3688, -5.0546)
  line L286 (4.3688, -5.0546) -> (4.2418, -5.0546)
  line L287 (4.2418, -5.0546) -> (4.2418, 4.953)
  line L288 (4.4958, 4.953) -> (4.6482, 4.953)
  line L289 (4.6482, 4.953) -> (4.6482, -5.0546)
  line L290 (4.6482, -5.0546) -> (4.4958, -5.0546)
  line L291 (4.4958, -5.0546) -> (4.4958, 4.953)
  line L292 (4.7752, 4.953) -> (4.9022, 4.953)
  line L293 (4.9022, 4.953) -> (4.9022, -5.0546)
  line L294 (4.9022, -5.0546) -> (4.7752, -5.0546)
  line L295 (4.7752, -5.0546) -> (4.7752, 4.953)
  line L296 (5.0546, 4.953) -> (5.1816, 4.953)
  line L297 (5.1816, 4.953) -> (5.1816, -5.0546)
  line L298 (5.1816, -5.0546) -> (5.0546, -5.0546)
  line L299 (5.0546, -5.0546) -> (5.0546, 4.953)
  line L300 (-4.5466, 4.953) -> (-4.3942, 4.953)
  line L301 (-4.3942, 4.953) -> (-4.3942, -5.0546)
  line L302 (-4.3942, -5.0546) -> (-4.5466, -5.0546)
  line L303 (-4.5466, -5.0546) -> (-4.5466, 4.953)
extrude "Extrusion2" add sketch "Sketch9" along normal blind 2.286
properties part number "mask"
